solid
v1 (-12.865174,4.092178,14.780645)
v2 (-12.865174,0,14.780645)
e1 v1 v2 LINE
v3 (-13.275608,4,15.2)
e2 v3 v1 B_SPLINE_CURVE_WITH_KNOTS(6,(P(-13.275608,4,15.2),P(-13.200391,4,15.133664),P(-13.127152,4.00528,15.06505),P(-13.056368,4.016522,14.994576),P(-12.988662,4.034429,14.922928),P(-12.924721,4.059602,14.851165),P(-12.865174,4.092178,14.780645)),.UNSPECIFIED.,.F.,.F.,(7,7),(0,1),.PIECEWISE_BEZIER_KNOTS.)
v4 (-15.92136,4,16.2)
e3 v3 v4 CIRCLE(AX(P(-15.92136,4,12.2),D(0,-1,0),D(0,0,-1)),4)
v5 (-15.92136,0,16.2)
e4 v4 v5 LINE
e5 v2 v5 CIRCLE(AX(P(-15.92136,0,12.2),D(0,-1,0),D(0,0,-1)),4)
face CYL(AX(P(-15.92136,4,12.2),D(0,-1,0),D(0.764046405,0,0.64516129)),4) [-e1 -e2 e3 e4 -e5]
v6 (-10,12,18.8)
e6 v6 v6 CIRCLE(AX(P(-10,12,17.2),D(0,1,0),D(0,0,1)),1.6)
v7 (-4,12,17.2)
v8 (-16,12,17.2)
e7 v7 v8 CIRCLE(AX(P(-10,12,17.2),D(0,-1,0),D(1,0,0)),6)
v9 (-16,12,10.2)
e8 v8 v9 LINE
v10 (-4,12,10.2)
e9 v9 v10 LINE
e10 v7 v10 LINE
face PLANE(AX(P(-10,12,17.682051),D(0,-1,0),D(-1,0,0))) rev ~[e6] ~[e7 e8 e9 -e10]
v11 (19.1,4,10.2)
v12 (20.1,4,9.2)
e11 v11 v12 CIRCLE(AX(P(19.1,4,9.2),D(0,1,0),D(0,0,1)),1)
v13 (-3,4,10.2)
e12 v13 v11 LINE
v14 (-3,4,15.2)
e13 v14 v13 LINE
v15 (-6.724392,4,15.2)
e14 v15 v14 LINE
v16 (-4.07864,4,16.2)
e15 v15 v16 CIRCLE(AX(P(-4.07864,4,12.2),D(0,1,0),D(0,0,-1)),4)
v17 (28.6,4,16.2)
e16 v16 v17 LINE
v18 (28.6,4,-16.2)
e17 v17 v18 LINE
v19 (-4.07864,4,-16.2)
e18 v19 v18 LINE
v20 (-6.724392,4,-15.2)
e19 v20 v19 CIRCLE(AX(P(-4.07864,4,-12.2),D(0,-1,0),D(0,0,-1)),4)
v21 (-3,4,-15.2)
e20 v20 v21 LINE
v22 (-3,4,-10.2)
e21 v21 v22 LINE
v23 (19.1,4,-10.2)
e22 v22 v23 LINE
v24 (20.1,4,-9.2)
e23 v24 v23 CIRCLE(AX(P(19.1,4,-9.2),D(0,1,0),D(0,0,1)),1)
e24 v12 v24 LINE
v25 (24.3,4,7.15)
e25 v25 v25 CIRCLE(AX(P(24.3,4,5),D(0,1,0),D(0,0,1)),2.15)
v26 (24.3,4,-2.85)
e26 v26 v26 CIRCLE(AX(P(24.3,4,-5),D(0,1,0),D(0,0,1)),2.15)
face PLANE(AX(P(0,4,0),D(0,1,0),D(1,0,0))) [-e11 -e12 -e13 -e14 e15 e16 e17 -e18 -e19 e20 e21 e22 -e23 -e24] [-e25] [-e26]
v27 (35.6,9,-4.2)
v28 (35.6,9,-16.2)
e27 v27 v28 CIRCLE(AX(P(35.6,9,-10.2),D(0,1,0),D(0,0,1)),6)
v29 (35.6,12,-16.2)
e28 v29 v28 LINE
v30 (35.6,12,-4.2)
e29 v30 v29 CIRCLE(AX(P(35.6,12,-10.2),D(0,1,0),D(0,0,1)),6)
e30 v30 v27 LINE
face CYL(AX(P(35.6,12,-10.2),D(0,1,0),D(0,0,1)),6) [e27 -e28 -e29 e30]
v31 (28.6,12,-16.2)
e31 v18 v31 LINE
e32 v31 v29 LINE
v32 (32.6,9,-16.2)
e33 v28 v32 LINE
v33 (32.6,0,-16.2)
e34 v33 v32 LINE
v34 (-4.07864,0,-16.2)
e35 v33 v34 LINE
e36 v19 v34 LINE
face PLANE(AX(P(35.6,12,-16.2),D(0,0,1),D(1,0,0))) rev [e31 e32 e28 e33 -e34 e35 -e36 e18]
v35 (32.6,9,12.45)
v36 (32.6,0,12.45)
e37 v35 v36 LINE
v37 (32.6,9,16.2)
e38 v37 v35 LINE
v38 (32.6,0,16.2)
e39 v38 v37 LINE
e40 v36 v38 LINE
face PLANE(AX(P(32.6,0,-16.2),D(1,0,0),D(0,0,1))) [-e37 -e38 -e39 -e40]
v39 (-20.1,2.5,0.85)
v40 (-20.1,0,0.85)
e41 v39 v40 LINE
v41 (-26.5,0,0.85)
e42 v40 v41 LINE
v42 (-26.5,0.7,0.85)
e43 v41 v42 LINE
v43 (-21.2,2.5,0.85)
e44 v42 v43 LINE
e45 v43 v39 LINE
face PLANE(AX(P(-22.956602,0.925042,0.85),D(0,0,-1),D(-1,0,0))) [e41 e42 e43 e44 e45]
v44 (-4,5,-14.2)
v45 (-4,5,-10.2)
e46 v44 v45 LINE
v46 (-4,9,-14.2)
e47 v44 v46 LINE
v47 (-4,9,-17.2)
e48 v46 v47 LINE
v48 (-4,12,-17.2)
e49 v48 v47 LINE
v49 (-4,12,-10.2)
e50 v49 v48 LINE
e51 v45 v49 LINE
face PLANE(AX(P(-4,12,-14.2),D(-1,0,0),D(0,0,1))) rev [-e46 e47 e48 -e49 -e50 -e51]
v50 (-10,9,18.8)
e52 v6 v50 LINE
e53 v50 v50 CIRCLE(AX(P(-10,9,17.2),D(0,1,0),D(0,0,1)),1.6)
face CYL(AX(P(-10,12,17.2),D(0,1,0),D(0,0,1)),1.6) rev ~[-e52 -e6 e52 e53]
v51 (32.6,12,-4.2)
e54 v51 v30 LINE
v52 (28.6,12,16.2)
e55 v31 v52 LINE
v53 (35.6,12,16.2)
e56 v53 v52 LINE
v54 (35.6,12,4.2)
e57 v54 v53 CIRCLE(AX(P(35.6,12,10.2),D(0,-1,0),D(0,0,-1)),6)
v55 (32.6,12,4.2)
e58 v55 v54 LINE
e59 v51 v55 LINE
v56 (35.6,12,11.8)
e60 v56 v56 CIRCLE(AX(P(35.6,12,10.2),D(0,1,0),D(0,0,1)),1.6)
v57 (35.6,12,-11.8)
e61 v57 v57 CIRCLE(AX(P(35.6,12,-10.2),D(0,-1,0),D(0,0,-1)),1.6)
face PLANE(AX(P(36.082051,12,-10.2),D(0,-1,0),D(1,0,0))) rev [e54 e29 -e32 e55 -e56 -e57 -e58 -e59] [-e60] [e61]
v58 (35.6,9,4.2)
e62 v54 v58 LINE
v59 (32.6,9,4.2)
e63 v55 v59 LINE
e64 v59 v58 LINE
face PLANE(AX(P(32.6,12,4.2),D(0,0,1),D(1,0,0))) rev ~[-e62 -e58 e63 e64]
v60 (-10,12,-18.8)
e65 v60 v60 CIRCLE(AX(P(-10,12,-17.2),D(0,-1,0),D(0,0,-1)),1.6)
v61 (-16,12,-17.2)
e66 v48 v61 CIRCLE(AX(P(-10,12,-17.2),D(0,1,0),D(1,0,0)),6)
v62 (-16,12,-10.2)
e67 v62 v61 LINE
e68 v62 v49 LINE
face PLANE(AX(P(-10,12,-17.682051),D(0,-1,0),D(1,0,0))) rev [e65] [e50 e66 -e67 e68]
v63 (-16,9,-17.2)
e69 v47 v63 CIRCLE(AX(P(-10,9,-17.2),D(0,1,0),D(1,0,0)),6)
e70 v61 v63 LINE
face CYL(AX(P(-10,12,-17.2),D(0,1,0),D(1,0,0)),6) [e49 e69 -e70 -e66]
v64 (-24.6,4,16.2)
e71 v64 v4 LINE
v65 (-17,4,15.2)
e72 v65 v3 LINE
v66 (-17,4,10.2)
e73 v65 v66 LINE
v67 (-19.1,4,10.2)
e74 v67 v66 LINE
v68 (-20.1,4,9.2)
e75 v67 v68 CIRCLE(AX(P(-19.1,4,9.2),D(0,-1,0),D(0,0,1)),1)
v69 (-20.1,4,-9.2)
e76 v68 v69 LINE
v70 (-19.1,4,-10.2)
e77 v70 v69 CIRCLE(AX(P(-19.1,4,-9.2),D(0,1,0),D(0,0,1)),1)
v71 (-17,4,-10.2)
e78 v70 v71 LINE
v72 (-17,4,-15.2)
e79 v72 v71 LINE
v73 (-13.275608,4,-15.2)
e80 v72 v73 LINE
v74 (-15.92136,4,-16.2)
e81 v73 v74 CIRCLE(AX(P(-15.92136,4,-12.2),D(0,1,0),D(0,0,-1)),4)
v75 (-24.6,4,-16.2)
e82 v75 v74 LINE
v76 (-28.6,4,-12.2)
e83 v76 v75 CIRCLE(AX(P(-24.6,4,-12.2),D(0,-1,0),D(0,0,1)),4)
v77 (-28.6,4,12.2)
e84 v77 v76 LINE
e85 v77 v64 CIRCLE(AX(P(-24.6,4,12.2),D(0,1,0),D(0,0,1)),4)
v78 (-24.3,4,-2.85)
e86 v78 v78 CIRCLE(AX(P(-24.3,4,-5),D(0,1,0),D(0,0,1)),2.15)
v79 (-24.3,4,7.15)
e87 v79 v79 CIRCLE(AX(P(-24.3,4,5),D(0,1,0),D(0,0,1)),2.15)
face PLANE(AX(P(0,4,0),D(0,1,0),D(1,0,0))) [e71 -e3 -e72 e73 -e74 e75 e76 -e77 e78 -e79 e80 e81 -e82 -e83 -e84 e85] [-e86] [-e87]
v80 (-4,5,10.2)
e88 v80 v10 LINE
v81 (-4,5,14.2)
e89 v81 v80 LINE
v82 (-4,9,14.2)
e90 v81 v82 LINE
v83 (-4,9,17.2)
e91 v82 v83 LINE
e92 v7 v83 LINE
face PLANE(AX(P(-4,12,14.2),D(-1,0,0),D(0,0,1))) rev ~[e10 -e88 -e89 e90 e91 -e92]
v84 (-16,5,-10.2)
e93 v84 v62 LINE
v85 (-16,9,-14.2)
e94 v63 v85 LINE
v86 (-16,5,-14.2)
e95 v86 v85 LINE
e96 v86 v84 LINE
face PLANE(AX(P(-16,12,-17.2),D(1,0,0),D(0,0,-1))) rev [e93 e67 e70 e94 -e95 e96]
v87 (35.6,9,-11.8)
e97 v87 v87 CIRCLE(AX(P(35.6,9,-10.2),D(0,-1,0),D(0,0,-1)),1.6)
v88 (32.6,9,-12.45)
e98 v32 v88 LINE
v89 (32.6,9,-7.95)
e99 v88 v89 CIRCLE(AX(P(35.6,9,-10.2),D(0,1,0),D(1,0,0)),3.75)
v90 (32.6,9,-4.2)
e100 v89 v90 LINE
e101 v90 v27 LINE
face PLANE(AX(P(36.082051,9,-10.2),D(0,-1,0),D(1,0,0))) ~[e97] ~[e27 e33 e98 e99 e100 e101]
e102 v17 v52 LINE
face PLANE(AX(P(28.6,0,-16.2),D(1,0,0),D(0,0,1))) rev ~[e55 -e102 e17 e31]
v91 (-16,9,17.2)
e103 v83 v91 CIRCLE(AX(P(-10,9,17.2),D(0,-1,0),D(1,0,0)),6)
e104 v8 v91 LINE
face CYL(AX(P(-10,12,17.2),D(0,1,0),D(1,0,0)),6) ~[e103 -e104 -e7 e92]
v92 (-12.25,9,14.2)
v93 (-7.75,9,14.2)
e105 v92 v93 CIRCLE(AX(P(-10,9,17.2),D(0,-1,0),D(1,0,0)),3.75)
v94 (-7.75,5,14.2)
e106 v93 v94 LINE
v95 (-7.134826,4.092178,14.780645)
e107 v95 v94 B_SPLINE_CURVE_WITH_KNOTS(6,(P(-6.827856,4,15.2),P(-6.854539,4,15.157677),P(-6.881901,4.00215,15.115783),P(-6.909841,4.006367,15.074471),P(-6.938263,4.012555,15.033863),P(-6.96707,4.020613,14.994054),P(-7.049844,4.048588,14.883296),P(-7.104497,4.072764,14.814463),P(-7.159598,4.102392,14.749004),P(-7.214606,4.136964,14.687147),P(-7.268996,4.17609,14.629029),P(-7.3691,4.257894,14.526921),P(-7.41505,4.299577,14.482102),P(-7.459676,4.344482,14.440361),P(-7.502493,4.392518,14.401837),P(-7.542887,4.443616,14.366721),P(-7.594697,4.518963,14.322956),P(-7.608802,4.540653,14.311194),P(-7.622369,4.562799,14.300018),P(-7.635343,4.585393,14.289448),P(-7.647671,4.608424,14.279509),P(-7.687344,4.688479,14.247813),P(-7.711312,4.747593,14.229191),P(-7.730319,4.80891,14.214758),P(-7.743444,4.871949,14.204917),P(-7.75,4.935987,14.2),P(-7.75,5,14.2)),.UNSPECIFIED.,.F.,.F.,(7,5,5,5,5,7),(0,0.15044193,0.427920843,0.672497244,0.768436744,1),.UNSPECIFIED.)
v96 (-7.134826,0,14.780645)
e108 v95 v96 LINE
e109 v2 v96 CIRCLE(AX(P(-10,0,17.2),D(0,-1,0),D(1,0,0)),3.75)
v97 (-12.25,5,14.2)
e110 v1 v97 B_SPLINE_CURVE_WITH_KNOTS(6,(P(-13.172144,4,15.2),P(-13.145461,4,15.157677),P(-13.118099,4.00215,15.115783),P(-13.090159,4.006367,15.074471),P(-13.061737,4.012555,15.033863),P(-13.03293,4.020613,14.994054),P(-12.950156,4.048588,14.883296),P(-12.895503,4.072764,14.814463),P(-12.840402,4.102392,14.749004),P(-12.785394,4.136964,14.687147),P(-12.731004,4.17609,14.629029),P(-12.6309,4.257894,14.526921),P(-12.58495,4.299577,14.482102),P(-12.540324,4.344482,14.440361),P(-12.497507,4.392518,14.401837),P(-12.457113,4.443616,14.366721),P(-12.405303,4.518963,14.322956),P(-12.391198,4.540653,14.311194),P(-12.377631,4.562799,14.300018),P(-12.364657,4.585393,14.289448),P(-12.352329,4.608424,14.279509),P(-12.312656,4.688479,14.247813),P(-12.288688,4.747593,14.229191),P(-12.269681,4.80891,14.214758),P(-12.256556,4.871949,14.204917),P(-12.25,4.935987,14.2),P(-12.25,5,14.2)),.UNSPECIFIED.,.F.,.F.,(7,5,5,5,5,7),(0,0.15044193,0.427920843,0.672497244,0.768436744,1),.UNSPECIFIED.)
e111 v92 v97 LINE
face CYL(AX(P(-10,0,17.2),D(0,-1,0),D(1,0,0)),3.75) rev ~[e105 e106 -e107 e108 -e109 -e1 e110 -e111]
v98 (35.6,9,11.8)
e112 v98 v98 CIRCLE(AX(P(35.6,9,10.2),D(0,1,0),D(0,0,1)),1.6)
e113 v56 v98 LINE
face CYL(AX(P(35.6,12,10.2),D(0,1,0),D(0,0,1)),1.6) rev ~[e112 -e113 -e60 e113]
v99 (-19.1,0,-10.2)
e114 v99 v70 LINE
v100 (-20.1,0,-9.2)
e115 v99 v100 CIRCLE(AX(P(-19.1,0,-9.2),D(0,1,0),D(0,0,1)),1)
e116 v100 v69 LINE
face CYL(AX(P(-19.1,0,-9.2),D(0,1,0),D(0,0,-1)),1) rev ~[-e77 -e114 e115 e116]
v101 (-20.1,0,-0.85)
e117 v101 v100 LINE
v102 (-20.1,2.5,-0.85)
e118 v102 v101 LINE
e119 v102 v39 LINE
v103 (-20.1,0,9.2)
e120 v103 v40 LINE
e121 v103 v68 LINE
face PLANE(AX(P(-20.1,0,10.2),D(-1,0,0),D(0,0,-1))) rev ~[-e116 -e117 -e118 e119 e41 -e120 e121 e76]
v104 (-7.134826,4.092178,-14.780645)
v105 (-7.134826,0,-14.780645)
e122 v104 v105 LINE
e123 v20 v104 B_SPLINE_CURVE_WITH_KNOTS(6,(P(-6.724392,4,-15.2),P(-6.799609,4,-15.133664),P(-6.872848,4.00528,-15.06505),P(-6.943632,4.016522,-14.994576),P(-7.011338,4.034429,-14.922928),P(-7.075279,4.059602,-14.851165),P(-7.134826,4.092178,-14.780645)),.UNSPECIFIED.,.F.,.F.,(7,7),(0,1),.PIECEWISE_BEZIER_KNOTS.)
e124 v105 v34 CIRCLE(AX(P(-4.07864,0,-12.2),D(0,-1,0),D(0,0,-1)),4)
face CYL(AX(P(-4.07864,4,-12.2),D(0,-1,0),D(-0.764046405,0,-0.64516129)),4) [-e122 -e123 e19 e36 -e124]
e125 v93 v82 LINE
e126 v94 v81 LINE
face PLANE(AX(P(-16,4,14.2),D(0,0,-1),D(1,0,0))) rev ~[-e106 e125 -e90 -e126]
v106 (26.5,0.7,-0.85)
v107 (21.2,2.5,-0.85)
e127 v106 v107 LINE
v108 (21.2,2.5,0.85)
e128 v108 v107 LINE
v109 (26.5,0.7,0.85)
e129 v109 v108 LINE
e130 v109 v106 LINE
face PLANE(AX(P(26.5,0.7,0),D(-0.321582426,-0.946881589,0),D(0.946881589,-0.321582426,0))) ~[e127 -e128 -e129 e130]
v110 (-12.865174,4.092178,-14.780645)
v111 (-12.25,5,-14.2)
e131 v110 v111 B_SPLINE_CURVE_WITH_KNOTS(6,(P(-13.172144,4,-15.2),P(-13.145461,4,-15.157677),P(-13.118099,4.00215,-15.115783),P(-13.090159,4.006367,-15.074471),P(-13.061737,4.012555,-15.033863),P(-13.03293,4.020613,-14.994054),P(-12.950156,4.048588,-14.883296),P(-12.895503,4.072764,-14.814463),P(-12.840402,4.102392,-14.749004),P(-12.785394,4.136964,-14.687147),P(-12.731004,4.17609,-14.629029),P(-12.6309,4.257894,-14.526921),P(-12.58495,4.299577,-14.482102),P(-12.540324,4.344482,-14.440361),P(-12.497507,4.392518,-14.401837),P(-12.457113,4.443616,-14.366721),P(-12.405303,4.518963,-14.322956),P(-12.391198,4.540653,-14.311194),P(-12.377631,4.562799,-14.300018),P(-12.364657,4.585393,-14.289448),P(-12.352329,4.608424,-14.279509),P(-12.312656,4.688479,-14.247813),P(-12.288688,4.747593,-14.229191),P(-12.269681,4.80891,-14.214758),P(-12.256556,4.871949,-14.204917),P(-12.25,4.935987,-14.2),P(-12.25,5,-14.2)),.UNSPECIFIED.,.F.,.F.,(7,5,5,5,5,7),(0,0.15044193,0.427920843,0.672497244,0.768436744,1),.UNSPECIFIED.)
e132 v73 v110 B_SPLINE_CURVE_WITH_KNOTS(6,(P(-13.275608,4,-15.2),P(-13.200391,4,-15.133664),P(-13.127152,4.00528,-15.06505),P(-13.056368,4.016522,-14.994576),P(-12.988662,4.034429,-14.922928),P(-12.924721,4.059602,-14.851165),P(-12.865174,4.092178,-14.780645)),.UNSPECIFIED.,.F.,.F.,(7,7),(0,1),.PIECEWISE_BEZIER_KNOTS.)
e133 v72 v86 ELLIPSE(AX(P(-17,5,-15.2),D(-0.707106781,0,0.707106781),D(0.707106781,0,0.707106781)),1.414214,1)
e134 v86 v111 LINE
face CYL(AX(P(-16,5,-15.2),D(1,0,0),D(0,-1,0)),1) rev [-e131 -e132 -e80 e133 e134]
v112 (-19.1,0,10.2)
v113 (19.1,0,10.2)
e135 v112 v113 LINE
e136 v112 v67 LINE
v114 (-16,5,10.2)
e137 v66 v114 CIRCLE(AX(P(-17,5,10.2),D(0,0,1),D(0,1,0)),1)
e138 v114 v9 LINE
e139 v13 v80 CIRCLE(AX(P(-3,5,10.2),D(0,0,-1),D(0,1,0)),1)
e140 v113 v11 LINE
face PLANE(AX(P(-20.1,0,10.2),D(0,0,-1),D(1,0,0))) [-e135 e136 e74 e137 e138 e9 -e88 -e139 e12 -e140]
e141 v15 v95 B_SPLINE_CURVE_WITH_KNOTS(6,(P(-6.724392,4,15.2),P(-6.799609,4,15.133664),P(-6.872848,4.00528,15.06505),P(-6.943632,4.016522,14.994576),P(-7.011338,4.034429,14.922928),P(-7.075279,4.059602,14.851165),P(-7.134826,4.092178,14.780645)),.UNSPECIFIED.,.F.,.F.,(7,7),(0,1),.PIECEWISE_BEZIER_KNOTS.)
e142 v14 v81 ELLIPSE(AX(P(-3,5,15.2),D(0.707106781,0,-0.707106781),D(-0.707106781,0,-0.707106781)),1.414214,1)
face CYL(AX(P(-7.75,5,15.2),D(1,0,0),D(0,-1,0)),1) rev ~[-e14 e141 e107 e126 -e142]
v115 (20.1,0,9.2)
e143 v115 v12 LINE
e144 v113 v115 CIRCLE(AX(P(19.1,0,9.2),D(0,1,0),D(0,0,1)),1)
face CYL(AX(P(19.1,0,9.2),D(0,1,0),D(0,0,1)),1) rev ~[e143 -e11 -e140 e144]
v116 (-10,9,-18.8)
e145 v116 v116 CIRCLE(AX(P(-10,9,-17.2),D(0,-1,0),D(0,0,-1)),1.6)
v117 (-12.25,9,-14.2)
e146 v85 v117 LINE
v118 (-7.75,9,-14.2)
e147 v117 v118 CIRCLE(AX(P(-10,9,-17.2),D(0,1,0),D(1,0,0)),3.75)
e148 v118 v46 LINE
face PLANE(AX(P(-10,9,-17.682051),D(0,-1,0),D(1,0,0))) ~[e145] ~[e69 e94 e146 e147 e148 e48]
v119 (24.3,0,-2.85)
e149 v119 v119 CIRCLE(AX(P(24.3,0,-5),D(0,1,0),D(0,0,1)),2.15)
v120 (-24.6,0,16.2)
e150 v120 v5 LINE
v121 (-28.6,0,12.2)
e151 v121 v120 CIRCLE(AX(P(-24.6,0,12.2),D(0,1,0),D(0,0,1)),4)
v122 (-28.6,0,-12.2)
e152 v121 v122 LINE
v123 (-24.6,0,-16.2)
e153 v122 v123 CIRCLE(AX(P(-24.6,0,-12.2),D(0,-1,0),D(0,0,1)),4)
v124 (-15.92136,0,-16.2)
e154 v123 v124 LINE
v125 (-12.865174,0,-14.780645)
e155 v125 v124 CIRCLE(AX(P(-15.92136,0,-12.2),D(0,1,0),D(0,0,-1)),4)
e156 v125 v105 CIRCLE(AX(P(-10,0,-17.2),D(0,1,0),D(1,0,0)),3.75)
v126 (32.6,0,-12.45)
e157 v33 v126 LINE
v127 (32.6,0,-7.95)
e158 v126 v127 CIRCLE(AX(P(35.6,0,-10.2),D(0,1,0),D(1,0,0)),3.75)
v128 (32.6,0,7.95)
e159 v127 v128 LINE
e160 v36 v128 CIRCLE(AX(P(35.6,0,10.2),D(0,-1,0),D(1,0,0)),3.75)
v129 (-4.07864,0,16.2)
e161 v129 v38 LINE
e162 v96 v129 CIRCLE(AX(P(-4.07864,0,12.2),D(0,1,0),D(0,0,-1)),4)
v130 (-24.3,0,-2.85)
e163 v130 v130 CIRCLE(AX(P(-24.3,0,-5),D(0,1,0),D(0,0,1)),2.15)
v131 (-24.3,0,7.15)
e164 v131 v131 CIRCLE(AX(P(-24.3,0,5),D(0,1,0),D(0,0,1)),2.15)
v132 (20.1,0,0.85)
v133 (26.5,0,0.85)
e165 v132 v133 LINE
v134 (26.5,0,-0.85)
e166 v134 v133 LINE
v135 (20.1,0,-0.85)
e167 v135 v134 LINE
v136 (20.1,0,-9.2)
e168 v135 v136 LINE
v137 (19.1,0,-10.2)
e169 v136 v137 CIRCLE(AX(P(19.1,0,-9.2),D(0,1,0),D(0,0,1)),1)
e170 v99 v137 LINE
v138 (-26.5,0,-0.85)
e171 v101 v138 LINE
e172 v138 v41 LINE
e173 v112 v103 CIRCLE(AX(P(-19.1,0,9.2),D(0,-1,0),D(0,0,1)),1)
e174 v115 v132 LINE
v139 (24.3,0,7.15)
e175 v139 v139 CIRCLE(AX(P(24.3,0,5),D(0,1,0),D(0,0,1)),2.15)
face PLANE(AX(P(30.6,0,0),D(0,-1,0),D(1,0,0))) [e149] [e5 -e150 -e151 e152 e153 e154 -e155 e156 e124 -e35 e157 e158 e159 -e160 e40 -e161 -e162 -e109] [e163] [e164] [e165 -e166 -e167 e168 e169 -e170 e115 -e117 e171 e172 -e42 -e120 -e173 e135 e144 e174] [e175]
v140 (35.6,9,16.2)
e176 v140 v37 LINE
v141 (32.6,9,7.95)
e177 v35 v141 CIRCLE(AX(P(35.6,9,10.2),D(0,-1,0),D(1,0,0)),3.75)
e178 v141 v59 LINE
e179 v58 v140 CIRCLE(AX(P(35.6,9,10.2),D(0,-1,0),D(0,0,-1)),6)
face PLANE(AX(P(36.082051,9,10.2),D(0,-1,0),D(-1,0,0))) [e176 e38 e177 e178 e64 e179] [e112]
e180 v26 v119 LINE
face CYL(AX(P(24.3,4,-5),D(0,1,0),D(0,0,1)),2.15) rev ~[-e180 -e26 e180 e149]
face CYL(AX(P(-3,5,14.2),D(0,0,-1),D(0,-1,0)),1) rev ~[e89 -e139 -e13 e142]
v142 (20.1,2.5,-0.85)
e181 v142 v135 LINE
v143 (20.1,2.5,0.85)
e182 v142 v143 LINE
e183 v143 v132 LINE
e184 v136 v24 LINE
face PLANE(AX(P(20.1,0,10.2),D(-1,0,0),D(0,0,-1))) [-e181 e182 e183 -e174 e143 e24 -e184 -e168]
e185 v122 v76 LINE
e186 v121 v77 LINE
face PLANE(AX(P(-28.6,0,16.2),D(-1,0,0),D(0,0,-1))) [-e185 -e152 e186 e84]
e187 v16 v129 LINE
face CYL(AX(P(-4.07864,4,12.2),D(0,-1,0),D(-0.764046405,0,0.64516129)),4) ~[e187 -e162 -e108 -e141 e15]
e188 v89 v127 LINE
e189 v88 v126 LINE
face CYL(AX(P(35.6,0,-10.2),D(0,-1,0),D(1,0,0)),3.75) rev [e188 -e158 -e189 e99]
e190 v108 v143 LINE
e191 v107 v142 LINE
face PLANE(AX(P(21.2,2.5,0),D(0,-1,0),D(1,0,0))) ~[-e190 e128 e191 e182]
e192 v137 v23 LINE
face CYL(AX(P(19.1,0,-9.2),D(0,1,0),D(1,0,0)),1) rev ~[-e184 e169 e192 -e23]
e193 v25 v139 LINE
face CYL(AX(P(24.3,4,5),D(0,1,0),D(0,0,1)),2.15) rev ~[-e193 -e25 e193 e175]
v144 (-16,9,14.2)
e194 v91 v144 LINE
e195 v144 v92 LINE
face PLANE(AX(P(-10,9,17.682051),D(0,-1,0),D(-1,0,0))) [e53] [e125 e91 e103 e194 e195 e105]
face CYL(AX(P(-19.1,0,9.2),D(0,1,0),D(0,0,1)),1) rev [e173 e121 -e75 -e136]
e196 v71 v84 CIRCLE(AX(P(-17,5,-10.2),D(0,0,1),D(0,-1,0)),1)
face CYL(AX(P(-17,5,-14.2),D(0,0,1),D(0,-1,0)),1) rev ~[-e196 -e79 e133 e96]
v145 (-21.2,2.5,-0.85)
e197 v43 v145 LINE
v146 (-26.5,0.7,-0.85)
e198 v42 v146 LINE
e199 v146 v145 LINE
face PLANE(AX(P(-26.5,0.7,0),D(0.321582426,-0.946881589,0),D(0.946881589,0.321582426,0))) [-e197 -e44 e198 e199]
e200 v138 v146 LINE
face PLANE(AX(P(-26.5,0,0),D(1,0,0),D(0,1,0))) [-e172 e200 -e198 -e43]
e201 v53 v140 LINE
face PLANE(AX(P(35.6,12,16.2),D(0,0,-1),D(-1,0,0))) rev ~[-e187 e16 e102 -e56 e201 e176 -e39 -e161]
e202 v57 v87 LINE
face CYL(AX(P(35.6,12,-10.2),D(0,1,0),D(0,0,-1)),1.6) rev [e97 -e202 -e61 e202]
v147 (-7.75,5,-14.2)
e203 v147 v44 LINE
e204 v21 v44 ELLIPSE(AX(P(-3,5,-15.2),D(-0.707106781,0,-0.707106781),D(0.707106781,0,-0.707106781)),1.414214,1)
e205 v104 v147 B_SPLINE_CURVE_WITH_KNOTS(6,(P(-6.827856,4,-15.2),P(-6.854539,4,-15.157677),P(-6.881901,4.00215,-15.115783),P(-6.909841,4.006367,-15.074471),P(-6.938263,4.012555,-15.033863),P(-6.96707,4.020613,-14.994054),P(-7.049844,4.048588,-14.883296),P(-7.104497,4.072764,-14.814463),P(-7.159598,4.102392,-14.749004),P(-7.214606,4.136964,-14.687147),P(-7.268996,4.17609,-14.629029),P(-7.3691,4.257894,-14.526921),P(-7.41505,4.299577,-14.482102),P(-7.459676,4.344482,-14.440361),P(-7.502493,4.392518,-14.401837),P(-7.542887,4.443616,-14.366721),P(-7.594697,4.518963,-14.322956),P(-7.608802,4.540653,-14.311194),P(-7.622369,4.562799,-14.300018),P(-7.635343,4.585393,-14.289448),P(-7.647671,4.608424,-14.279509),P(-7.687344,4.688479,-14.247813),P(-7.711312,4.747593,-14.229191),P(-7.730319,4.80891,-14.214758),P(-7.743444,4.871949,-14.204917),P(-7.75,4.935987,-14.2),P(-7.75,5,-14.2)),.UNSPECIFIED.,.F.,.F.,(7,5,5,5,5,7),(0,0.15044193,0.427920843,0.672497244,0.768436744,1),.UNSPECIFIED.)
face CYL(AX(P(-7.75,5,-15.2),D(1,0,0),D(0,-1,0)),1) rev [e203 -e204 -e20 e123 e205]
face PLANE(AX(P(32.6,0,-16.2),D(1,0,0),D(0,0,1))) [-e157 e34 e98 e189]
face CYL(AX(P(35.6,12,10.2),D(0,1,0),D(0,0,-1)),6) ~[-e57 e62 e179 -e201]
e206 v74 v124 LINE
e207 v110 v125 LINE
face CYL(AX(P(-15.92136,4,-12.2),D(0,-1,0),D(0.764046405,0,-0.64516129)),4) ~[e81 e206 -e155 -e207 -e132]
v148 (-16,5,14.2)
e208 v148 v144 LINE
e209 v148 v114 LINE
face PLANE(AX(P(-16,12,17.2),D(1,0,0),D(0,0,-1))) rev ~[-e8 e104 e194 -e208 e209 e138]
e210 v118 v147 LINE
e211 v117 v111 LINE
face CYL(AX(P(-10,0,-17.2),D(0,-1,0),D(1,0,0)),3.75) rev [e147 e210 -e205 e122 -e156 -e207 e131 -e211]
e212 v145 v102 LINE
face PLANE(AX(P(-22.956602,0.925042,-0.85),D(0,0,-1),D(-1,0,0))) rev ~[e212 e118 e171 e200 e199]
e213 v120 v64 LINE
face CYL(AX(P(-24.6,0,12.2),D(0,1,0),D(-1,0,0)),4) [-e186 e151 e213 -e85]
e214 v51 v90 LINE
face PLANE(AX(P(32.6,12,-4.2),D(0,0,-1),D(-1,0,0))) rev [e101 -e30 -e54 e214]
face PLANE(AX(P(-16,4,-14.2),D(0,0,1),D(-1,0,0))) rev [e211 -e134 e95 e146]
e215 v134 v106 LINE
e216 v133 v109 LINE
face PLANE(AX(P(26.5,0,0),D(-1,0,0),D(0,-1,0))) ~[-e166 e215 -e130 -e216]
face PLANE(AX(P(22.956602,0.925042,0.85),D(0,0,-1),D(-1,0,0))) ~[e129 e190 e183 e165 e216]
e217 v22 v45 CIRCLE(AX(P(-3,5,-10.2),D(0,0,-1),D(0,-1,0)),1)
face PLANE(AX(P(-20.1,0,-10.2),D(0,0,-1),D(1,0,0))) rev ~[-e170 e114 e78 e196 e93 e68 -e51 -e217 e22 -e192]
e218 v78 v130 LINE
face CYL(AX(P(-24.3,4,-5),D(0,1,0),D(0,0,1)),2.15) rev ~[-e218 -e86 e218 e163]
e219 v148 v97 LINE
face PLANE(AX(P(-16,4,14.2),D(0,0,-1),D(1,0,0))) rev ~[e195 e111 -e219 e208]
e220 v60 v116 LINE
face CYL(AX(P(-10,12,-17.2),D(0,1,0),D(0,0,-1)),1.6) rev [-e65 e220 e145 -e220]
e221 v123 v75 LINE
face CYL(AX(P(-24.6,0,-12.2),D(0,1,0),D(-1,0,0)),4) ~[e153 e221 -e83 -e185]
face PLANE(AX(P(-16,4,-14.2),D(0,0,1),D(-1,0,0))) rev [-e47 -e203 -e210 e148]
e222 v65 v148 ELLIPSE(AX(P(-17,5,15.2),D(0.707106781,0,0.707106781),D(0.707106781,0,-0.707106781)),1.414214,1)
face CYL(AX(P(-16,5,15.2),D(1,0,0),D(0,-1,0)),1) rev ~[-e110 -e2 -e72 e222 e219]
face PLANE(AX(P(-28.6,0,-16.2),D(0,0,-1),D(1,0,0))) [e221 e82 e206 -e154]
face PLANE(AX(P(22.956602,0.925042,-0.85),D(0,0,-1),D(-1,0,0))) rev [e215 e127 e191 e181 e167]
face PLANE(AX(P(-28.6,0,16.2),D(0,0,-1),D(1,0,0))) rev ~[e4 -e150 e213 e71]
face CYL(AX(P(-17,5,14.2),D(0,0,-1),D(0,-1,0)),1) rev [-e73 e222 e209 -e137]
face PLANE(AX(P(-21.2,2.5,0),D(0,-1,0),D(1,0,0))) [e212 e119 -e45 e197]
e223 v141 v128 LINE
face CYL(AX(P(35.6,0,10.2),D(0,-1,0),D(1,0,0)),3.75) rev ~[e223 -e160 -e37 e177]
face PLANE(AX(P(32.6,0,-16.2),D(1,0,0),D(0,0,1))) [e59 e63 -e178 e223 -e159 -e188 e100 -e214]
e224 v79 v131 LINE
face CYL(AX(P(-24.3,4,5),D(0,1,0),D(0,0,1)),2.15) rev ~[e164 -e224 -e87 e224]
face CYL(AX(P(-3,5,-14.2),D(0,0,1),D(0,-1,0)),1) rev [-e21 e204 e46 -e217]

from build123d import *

# Parameters (mm, degrees)
SKETCH1_W           = 57.2
SKETCH1_H           = 32.4
SKETCH1_W_2         = 40.2
SKETCH1_H_2         = 20.4
BOSS_EXTRUDE1_DEPTH = 4
FILLET1_R           = 1
SKETCH2_R           = 2.15
CUT_EXTRUDE1_DEPTH  = 34.111931384
CUT_EXTRUDE2_DEPTH  = 0.85
SKETCH5_W           = 12
SKETCH5_H           = 4
BOSS_EXTRUDE2_DEPTH = 8
SKETCH6_R           = 1.6
BOSS_EXTRUDE3_DEPTH = 3
CUT_EXTRUDE3_REACH  = 40.732
SKETCH7_R           = 3.75
FILLET4_R           = 4
FILLET6_R           = 1
SKETCH8_W           = 4
SKETCH8_H           = 32.4
BOSS_EXTRUDE4_DEPTH = 12
SKETCH9_R           = 1.6
BOSS_EXTRUDE6_DEPTH = 3
SKETCH10_R          = 3.75
CUT_EXTRUDE4_DEPTH  = 9


with BuildPart() as part:
    # Sketch1 → Boss-Extrude1 (new body)
    with BuildSketch(Plane(origin=(0, 0, 0), x_dir=(1, 0, 0), z_dir=(0, 1, 0))):
        Rectangle(SKETCH1_W, SKETCH1_H)
        Rectangle(SKETCH1_W_2, SKETCH1_H_2, mode=Mode.SUBTRACT)
    extrude(amount=BOSS_EXTRUDE1_DEPTH)

    # Fillet1
    fillet1_edges = [part.edges().sort_by_distance(p)[0] for p in [
        (-20.1, 2, -10.2),
        (-20.1, 2, 10.2),
        (20.1, 2, 10.2),
        (20.1, 2, -10.2),
    ]]
    fillet(fillet1_edges, radius=FILLET1_R)

    # Sketch2 → Cut-Extrude1 (cut, through all)
    with BuildSketch(Plane(origin=(0, 4, 0), x_dir=(1, 0, 0), z_dir=(0, 1, 0))):
        with Locations(Location((-24.3, 5, 0), (0, 0, 270))):
            Circle(SKETCH2_R)
        with Locations(Location((-24.3, -5, 0), (0, 0, 270))):
            Circle(SKETCH2_R)
        with Locations(Location((24.3, -5, 0), (0, 0, 270))):
            Circle(SKETCH2_R)
        with Locations(Location((24.3, 5, 0), (0, 0, 270))):
            Circle(SKETCH2_R)
    extrude(amount=-CUT_EXTRUDE1_DEPTH, mode=Mode.SUBTRACT)

    # Sketch3 → Cut-Extrude2 (cut, symmetric)
    with BuildSketch(Plane.XY):
        Polygon((-26.5, 0), (-26.5, 0.7), (-21.2, 2.5), (-20.1, 2.5), (-20.1, 0), align=None)
    cut_extrude2 = extrude(amount=CUT_EXTRUDE2_DEPTH, both=True, mode=Mode.SUBTRACT)

    # Mirror1: Cut-Extrude2 across plane
    add(cut_extrude2.mirror(Plane(origin=(0, 0, 0), x_dir=(0, 0, 1), z_dir=(1, 0, 0))), mode=Mode.SUBTRACT)

    # Sketch5 → Boss-Extrude2 (add)
    with BuildSketch(Plane(origin=(0, 4, 0), x_dir=(1, 0, 0), z_dir=(0, 1, 0))):
        with Locations((-10, -12.2)):
            Rectangle(SKETCH5_W, SKETCH5_H)
    boss_extrude2 = extrude(amount=BOSS_EXTRUDE2_DEPTH)

    # Sketch6 → Boss-Extrude3 (add)
    with BuildSketch(Plane(origin=(0, 12, 0), x_dir=(1, 0, 0), z_dir=(0, 1, 0))):
        with BuildLine():
            Line((-16, -14.2), (-4, -14.2))
            Line((-4, -14.2), (-4, -17.2))
            ThreePointArc((-4, -17.2), (-10, -23.2), (-16, -17.2))
            Line((-16, -17.2), (-16, -14.2))
        make_face()
        with Locations(Location((-10, -17.2, 0), (0, 0, 270))):
            Circle(SKETCH6_R, mode=Mode.SUBTRACT)
    boss_extrude3 = extrude(amount=-BOSS_EXTRUDE3_DEPTH)

    # Cut-Extrude3: up to this face of the body (flat: up to its plane)
    cut_extrude3_end = Plane(part.part.faces().sort_by_distance((-10, 9, 23.05))[0])
    # Sketch7 → Cut-Extrude3 (cut, up to the picked face)
    with BuildSketch(Plane.XZ, mode=Mode.PRIVATE) as cut_extrude3_sk1:
        with Locations((-10, 17.2)):
            Circle(SKETCH7_R)
    cut_extrude3_tool1 = split(extrude(cut_extrude3_sk1.sketch, amount=-CUT_EXTRUDE3_REACH, mode=Mode.PRIVATE), bisect_by=cut_extrude3_end, keep=Keep.BOTH, mode=Mode.PRIVATE)
    cut_extrude3 = cut_extrude3_tool1.solids().sort_by(Axis((-10, 0, 17.2), (0, 1, 0)))[0]
    add(cut_extrude3, mode=Mode.SUBTRACT)

    # Mirror4: Boss-Extrude2, Boss-Extrude3, Cut-Extrude3 across plane
    add(boss_extrude2.mirror(Plane.XY))
    add(boss_extrude3.mirror(Plane.XY))
    add(cut_extrude3.mirror(Plane.XY), mode=Mode.SUBTRACT)

    # Fillet4
    fillet4_edges = [part.edges().sort_by_distance(p)[0] for p in [
        (-6.385791926, 2, 16.2),
        (-13.614208074, 2, 16.2),
        (-6.385791926, 2, -16.2),
        (-13.614208074, 2, -16.2),
        (-28.6, 2, -16.2),
        (-28.6, 2, 16.2),
    ]]
    fillet(fillet4_edges, radius=FILLET4_R)

    # Fillet6
    fillet6_edges = [part.edges().sort_by_distance(p)[0] for p in [
        (-14.125, 4, 14.2),
        (-16, 4, 12.2),
        (-5.875, 4, -14.2),
        (-14.125, 4, -14.2),
        (-4, 4, -12.2),
        (-16, 4, -12.2),
        (-4, 4, 12.2),
        (-5.875, 4, 14.2),
    ]]
    fillet(fillet6_edges, radius=FILLET6_R)

    # Sketch8 → Boss-Extrude4 (add)
    with BuildSketch(Plane.XZ):
        with Locations((30.6, 0)):
            Rectangle(SKETCH8_W, SKETCH8_H)
    extrude(amount=-BOSS_EXTRUDE4_DEPTH)

    # Sketch9 → Boss-Extrude6 (add)
    with BuildSketch(Plane(origin=(0, 12, 0), x_dir=(1, 0, 0), z_dir=(0, 1, 0))):
        with BuildLine():
            Line((32.6, -16.2), (32.6, -4.2))
            Line((32.6, -4.2), (35.6, -4.2))
            ThreePointArc((35.6, -4.2), (41.6, -10.2), (35.6, -16.2))
            Line((35.6, -16.2), (32.6, -16.2))
        make_face()
        with Locations(Location((35.6, -10.2, 0), (0, 0, 270))):
            Circle(SKETCH9_R, mode=Mode.SUBTRACT)
    boss_extrude6 = extrude(amount=-BOSS_EXTRUDE6_DEPTH)

    # Sketch10 → Cut-Extrude4 (cut)
    with BuildSketch(Plane.XZ):
        with Locations((35.6, 10.2)):
            Circle(SKETCH10_R)
    cut_extrude4 = extrude(amount=-CUT_EXTRUDE4_DEPTH, mode=Mode.SUBTRACT)

    # Mirror5: Boss-Extrude6, Cut-Extrude4 across plane
    add(boss_extrude6.mirror(Plane.XY))
    add(cut_extrude4.mirror(Plane.XY), mode=Mode.SUBTRACT)


solid = part.part
